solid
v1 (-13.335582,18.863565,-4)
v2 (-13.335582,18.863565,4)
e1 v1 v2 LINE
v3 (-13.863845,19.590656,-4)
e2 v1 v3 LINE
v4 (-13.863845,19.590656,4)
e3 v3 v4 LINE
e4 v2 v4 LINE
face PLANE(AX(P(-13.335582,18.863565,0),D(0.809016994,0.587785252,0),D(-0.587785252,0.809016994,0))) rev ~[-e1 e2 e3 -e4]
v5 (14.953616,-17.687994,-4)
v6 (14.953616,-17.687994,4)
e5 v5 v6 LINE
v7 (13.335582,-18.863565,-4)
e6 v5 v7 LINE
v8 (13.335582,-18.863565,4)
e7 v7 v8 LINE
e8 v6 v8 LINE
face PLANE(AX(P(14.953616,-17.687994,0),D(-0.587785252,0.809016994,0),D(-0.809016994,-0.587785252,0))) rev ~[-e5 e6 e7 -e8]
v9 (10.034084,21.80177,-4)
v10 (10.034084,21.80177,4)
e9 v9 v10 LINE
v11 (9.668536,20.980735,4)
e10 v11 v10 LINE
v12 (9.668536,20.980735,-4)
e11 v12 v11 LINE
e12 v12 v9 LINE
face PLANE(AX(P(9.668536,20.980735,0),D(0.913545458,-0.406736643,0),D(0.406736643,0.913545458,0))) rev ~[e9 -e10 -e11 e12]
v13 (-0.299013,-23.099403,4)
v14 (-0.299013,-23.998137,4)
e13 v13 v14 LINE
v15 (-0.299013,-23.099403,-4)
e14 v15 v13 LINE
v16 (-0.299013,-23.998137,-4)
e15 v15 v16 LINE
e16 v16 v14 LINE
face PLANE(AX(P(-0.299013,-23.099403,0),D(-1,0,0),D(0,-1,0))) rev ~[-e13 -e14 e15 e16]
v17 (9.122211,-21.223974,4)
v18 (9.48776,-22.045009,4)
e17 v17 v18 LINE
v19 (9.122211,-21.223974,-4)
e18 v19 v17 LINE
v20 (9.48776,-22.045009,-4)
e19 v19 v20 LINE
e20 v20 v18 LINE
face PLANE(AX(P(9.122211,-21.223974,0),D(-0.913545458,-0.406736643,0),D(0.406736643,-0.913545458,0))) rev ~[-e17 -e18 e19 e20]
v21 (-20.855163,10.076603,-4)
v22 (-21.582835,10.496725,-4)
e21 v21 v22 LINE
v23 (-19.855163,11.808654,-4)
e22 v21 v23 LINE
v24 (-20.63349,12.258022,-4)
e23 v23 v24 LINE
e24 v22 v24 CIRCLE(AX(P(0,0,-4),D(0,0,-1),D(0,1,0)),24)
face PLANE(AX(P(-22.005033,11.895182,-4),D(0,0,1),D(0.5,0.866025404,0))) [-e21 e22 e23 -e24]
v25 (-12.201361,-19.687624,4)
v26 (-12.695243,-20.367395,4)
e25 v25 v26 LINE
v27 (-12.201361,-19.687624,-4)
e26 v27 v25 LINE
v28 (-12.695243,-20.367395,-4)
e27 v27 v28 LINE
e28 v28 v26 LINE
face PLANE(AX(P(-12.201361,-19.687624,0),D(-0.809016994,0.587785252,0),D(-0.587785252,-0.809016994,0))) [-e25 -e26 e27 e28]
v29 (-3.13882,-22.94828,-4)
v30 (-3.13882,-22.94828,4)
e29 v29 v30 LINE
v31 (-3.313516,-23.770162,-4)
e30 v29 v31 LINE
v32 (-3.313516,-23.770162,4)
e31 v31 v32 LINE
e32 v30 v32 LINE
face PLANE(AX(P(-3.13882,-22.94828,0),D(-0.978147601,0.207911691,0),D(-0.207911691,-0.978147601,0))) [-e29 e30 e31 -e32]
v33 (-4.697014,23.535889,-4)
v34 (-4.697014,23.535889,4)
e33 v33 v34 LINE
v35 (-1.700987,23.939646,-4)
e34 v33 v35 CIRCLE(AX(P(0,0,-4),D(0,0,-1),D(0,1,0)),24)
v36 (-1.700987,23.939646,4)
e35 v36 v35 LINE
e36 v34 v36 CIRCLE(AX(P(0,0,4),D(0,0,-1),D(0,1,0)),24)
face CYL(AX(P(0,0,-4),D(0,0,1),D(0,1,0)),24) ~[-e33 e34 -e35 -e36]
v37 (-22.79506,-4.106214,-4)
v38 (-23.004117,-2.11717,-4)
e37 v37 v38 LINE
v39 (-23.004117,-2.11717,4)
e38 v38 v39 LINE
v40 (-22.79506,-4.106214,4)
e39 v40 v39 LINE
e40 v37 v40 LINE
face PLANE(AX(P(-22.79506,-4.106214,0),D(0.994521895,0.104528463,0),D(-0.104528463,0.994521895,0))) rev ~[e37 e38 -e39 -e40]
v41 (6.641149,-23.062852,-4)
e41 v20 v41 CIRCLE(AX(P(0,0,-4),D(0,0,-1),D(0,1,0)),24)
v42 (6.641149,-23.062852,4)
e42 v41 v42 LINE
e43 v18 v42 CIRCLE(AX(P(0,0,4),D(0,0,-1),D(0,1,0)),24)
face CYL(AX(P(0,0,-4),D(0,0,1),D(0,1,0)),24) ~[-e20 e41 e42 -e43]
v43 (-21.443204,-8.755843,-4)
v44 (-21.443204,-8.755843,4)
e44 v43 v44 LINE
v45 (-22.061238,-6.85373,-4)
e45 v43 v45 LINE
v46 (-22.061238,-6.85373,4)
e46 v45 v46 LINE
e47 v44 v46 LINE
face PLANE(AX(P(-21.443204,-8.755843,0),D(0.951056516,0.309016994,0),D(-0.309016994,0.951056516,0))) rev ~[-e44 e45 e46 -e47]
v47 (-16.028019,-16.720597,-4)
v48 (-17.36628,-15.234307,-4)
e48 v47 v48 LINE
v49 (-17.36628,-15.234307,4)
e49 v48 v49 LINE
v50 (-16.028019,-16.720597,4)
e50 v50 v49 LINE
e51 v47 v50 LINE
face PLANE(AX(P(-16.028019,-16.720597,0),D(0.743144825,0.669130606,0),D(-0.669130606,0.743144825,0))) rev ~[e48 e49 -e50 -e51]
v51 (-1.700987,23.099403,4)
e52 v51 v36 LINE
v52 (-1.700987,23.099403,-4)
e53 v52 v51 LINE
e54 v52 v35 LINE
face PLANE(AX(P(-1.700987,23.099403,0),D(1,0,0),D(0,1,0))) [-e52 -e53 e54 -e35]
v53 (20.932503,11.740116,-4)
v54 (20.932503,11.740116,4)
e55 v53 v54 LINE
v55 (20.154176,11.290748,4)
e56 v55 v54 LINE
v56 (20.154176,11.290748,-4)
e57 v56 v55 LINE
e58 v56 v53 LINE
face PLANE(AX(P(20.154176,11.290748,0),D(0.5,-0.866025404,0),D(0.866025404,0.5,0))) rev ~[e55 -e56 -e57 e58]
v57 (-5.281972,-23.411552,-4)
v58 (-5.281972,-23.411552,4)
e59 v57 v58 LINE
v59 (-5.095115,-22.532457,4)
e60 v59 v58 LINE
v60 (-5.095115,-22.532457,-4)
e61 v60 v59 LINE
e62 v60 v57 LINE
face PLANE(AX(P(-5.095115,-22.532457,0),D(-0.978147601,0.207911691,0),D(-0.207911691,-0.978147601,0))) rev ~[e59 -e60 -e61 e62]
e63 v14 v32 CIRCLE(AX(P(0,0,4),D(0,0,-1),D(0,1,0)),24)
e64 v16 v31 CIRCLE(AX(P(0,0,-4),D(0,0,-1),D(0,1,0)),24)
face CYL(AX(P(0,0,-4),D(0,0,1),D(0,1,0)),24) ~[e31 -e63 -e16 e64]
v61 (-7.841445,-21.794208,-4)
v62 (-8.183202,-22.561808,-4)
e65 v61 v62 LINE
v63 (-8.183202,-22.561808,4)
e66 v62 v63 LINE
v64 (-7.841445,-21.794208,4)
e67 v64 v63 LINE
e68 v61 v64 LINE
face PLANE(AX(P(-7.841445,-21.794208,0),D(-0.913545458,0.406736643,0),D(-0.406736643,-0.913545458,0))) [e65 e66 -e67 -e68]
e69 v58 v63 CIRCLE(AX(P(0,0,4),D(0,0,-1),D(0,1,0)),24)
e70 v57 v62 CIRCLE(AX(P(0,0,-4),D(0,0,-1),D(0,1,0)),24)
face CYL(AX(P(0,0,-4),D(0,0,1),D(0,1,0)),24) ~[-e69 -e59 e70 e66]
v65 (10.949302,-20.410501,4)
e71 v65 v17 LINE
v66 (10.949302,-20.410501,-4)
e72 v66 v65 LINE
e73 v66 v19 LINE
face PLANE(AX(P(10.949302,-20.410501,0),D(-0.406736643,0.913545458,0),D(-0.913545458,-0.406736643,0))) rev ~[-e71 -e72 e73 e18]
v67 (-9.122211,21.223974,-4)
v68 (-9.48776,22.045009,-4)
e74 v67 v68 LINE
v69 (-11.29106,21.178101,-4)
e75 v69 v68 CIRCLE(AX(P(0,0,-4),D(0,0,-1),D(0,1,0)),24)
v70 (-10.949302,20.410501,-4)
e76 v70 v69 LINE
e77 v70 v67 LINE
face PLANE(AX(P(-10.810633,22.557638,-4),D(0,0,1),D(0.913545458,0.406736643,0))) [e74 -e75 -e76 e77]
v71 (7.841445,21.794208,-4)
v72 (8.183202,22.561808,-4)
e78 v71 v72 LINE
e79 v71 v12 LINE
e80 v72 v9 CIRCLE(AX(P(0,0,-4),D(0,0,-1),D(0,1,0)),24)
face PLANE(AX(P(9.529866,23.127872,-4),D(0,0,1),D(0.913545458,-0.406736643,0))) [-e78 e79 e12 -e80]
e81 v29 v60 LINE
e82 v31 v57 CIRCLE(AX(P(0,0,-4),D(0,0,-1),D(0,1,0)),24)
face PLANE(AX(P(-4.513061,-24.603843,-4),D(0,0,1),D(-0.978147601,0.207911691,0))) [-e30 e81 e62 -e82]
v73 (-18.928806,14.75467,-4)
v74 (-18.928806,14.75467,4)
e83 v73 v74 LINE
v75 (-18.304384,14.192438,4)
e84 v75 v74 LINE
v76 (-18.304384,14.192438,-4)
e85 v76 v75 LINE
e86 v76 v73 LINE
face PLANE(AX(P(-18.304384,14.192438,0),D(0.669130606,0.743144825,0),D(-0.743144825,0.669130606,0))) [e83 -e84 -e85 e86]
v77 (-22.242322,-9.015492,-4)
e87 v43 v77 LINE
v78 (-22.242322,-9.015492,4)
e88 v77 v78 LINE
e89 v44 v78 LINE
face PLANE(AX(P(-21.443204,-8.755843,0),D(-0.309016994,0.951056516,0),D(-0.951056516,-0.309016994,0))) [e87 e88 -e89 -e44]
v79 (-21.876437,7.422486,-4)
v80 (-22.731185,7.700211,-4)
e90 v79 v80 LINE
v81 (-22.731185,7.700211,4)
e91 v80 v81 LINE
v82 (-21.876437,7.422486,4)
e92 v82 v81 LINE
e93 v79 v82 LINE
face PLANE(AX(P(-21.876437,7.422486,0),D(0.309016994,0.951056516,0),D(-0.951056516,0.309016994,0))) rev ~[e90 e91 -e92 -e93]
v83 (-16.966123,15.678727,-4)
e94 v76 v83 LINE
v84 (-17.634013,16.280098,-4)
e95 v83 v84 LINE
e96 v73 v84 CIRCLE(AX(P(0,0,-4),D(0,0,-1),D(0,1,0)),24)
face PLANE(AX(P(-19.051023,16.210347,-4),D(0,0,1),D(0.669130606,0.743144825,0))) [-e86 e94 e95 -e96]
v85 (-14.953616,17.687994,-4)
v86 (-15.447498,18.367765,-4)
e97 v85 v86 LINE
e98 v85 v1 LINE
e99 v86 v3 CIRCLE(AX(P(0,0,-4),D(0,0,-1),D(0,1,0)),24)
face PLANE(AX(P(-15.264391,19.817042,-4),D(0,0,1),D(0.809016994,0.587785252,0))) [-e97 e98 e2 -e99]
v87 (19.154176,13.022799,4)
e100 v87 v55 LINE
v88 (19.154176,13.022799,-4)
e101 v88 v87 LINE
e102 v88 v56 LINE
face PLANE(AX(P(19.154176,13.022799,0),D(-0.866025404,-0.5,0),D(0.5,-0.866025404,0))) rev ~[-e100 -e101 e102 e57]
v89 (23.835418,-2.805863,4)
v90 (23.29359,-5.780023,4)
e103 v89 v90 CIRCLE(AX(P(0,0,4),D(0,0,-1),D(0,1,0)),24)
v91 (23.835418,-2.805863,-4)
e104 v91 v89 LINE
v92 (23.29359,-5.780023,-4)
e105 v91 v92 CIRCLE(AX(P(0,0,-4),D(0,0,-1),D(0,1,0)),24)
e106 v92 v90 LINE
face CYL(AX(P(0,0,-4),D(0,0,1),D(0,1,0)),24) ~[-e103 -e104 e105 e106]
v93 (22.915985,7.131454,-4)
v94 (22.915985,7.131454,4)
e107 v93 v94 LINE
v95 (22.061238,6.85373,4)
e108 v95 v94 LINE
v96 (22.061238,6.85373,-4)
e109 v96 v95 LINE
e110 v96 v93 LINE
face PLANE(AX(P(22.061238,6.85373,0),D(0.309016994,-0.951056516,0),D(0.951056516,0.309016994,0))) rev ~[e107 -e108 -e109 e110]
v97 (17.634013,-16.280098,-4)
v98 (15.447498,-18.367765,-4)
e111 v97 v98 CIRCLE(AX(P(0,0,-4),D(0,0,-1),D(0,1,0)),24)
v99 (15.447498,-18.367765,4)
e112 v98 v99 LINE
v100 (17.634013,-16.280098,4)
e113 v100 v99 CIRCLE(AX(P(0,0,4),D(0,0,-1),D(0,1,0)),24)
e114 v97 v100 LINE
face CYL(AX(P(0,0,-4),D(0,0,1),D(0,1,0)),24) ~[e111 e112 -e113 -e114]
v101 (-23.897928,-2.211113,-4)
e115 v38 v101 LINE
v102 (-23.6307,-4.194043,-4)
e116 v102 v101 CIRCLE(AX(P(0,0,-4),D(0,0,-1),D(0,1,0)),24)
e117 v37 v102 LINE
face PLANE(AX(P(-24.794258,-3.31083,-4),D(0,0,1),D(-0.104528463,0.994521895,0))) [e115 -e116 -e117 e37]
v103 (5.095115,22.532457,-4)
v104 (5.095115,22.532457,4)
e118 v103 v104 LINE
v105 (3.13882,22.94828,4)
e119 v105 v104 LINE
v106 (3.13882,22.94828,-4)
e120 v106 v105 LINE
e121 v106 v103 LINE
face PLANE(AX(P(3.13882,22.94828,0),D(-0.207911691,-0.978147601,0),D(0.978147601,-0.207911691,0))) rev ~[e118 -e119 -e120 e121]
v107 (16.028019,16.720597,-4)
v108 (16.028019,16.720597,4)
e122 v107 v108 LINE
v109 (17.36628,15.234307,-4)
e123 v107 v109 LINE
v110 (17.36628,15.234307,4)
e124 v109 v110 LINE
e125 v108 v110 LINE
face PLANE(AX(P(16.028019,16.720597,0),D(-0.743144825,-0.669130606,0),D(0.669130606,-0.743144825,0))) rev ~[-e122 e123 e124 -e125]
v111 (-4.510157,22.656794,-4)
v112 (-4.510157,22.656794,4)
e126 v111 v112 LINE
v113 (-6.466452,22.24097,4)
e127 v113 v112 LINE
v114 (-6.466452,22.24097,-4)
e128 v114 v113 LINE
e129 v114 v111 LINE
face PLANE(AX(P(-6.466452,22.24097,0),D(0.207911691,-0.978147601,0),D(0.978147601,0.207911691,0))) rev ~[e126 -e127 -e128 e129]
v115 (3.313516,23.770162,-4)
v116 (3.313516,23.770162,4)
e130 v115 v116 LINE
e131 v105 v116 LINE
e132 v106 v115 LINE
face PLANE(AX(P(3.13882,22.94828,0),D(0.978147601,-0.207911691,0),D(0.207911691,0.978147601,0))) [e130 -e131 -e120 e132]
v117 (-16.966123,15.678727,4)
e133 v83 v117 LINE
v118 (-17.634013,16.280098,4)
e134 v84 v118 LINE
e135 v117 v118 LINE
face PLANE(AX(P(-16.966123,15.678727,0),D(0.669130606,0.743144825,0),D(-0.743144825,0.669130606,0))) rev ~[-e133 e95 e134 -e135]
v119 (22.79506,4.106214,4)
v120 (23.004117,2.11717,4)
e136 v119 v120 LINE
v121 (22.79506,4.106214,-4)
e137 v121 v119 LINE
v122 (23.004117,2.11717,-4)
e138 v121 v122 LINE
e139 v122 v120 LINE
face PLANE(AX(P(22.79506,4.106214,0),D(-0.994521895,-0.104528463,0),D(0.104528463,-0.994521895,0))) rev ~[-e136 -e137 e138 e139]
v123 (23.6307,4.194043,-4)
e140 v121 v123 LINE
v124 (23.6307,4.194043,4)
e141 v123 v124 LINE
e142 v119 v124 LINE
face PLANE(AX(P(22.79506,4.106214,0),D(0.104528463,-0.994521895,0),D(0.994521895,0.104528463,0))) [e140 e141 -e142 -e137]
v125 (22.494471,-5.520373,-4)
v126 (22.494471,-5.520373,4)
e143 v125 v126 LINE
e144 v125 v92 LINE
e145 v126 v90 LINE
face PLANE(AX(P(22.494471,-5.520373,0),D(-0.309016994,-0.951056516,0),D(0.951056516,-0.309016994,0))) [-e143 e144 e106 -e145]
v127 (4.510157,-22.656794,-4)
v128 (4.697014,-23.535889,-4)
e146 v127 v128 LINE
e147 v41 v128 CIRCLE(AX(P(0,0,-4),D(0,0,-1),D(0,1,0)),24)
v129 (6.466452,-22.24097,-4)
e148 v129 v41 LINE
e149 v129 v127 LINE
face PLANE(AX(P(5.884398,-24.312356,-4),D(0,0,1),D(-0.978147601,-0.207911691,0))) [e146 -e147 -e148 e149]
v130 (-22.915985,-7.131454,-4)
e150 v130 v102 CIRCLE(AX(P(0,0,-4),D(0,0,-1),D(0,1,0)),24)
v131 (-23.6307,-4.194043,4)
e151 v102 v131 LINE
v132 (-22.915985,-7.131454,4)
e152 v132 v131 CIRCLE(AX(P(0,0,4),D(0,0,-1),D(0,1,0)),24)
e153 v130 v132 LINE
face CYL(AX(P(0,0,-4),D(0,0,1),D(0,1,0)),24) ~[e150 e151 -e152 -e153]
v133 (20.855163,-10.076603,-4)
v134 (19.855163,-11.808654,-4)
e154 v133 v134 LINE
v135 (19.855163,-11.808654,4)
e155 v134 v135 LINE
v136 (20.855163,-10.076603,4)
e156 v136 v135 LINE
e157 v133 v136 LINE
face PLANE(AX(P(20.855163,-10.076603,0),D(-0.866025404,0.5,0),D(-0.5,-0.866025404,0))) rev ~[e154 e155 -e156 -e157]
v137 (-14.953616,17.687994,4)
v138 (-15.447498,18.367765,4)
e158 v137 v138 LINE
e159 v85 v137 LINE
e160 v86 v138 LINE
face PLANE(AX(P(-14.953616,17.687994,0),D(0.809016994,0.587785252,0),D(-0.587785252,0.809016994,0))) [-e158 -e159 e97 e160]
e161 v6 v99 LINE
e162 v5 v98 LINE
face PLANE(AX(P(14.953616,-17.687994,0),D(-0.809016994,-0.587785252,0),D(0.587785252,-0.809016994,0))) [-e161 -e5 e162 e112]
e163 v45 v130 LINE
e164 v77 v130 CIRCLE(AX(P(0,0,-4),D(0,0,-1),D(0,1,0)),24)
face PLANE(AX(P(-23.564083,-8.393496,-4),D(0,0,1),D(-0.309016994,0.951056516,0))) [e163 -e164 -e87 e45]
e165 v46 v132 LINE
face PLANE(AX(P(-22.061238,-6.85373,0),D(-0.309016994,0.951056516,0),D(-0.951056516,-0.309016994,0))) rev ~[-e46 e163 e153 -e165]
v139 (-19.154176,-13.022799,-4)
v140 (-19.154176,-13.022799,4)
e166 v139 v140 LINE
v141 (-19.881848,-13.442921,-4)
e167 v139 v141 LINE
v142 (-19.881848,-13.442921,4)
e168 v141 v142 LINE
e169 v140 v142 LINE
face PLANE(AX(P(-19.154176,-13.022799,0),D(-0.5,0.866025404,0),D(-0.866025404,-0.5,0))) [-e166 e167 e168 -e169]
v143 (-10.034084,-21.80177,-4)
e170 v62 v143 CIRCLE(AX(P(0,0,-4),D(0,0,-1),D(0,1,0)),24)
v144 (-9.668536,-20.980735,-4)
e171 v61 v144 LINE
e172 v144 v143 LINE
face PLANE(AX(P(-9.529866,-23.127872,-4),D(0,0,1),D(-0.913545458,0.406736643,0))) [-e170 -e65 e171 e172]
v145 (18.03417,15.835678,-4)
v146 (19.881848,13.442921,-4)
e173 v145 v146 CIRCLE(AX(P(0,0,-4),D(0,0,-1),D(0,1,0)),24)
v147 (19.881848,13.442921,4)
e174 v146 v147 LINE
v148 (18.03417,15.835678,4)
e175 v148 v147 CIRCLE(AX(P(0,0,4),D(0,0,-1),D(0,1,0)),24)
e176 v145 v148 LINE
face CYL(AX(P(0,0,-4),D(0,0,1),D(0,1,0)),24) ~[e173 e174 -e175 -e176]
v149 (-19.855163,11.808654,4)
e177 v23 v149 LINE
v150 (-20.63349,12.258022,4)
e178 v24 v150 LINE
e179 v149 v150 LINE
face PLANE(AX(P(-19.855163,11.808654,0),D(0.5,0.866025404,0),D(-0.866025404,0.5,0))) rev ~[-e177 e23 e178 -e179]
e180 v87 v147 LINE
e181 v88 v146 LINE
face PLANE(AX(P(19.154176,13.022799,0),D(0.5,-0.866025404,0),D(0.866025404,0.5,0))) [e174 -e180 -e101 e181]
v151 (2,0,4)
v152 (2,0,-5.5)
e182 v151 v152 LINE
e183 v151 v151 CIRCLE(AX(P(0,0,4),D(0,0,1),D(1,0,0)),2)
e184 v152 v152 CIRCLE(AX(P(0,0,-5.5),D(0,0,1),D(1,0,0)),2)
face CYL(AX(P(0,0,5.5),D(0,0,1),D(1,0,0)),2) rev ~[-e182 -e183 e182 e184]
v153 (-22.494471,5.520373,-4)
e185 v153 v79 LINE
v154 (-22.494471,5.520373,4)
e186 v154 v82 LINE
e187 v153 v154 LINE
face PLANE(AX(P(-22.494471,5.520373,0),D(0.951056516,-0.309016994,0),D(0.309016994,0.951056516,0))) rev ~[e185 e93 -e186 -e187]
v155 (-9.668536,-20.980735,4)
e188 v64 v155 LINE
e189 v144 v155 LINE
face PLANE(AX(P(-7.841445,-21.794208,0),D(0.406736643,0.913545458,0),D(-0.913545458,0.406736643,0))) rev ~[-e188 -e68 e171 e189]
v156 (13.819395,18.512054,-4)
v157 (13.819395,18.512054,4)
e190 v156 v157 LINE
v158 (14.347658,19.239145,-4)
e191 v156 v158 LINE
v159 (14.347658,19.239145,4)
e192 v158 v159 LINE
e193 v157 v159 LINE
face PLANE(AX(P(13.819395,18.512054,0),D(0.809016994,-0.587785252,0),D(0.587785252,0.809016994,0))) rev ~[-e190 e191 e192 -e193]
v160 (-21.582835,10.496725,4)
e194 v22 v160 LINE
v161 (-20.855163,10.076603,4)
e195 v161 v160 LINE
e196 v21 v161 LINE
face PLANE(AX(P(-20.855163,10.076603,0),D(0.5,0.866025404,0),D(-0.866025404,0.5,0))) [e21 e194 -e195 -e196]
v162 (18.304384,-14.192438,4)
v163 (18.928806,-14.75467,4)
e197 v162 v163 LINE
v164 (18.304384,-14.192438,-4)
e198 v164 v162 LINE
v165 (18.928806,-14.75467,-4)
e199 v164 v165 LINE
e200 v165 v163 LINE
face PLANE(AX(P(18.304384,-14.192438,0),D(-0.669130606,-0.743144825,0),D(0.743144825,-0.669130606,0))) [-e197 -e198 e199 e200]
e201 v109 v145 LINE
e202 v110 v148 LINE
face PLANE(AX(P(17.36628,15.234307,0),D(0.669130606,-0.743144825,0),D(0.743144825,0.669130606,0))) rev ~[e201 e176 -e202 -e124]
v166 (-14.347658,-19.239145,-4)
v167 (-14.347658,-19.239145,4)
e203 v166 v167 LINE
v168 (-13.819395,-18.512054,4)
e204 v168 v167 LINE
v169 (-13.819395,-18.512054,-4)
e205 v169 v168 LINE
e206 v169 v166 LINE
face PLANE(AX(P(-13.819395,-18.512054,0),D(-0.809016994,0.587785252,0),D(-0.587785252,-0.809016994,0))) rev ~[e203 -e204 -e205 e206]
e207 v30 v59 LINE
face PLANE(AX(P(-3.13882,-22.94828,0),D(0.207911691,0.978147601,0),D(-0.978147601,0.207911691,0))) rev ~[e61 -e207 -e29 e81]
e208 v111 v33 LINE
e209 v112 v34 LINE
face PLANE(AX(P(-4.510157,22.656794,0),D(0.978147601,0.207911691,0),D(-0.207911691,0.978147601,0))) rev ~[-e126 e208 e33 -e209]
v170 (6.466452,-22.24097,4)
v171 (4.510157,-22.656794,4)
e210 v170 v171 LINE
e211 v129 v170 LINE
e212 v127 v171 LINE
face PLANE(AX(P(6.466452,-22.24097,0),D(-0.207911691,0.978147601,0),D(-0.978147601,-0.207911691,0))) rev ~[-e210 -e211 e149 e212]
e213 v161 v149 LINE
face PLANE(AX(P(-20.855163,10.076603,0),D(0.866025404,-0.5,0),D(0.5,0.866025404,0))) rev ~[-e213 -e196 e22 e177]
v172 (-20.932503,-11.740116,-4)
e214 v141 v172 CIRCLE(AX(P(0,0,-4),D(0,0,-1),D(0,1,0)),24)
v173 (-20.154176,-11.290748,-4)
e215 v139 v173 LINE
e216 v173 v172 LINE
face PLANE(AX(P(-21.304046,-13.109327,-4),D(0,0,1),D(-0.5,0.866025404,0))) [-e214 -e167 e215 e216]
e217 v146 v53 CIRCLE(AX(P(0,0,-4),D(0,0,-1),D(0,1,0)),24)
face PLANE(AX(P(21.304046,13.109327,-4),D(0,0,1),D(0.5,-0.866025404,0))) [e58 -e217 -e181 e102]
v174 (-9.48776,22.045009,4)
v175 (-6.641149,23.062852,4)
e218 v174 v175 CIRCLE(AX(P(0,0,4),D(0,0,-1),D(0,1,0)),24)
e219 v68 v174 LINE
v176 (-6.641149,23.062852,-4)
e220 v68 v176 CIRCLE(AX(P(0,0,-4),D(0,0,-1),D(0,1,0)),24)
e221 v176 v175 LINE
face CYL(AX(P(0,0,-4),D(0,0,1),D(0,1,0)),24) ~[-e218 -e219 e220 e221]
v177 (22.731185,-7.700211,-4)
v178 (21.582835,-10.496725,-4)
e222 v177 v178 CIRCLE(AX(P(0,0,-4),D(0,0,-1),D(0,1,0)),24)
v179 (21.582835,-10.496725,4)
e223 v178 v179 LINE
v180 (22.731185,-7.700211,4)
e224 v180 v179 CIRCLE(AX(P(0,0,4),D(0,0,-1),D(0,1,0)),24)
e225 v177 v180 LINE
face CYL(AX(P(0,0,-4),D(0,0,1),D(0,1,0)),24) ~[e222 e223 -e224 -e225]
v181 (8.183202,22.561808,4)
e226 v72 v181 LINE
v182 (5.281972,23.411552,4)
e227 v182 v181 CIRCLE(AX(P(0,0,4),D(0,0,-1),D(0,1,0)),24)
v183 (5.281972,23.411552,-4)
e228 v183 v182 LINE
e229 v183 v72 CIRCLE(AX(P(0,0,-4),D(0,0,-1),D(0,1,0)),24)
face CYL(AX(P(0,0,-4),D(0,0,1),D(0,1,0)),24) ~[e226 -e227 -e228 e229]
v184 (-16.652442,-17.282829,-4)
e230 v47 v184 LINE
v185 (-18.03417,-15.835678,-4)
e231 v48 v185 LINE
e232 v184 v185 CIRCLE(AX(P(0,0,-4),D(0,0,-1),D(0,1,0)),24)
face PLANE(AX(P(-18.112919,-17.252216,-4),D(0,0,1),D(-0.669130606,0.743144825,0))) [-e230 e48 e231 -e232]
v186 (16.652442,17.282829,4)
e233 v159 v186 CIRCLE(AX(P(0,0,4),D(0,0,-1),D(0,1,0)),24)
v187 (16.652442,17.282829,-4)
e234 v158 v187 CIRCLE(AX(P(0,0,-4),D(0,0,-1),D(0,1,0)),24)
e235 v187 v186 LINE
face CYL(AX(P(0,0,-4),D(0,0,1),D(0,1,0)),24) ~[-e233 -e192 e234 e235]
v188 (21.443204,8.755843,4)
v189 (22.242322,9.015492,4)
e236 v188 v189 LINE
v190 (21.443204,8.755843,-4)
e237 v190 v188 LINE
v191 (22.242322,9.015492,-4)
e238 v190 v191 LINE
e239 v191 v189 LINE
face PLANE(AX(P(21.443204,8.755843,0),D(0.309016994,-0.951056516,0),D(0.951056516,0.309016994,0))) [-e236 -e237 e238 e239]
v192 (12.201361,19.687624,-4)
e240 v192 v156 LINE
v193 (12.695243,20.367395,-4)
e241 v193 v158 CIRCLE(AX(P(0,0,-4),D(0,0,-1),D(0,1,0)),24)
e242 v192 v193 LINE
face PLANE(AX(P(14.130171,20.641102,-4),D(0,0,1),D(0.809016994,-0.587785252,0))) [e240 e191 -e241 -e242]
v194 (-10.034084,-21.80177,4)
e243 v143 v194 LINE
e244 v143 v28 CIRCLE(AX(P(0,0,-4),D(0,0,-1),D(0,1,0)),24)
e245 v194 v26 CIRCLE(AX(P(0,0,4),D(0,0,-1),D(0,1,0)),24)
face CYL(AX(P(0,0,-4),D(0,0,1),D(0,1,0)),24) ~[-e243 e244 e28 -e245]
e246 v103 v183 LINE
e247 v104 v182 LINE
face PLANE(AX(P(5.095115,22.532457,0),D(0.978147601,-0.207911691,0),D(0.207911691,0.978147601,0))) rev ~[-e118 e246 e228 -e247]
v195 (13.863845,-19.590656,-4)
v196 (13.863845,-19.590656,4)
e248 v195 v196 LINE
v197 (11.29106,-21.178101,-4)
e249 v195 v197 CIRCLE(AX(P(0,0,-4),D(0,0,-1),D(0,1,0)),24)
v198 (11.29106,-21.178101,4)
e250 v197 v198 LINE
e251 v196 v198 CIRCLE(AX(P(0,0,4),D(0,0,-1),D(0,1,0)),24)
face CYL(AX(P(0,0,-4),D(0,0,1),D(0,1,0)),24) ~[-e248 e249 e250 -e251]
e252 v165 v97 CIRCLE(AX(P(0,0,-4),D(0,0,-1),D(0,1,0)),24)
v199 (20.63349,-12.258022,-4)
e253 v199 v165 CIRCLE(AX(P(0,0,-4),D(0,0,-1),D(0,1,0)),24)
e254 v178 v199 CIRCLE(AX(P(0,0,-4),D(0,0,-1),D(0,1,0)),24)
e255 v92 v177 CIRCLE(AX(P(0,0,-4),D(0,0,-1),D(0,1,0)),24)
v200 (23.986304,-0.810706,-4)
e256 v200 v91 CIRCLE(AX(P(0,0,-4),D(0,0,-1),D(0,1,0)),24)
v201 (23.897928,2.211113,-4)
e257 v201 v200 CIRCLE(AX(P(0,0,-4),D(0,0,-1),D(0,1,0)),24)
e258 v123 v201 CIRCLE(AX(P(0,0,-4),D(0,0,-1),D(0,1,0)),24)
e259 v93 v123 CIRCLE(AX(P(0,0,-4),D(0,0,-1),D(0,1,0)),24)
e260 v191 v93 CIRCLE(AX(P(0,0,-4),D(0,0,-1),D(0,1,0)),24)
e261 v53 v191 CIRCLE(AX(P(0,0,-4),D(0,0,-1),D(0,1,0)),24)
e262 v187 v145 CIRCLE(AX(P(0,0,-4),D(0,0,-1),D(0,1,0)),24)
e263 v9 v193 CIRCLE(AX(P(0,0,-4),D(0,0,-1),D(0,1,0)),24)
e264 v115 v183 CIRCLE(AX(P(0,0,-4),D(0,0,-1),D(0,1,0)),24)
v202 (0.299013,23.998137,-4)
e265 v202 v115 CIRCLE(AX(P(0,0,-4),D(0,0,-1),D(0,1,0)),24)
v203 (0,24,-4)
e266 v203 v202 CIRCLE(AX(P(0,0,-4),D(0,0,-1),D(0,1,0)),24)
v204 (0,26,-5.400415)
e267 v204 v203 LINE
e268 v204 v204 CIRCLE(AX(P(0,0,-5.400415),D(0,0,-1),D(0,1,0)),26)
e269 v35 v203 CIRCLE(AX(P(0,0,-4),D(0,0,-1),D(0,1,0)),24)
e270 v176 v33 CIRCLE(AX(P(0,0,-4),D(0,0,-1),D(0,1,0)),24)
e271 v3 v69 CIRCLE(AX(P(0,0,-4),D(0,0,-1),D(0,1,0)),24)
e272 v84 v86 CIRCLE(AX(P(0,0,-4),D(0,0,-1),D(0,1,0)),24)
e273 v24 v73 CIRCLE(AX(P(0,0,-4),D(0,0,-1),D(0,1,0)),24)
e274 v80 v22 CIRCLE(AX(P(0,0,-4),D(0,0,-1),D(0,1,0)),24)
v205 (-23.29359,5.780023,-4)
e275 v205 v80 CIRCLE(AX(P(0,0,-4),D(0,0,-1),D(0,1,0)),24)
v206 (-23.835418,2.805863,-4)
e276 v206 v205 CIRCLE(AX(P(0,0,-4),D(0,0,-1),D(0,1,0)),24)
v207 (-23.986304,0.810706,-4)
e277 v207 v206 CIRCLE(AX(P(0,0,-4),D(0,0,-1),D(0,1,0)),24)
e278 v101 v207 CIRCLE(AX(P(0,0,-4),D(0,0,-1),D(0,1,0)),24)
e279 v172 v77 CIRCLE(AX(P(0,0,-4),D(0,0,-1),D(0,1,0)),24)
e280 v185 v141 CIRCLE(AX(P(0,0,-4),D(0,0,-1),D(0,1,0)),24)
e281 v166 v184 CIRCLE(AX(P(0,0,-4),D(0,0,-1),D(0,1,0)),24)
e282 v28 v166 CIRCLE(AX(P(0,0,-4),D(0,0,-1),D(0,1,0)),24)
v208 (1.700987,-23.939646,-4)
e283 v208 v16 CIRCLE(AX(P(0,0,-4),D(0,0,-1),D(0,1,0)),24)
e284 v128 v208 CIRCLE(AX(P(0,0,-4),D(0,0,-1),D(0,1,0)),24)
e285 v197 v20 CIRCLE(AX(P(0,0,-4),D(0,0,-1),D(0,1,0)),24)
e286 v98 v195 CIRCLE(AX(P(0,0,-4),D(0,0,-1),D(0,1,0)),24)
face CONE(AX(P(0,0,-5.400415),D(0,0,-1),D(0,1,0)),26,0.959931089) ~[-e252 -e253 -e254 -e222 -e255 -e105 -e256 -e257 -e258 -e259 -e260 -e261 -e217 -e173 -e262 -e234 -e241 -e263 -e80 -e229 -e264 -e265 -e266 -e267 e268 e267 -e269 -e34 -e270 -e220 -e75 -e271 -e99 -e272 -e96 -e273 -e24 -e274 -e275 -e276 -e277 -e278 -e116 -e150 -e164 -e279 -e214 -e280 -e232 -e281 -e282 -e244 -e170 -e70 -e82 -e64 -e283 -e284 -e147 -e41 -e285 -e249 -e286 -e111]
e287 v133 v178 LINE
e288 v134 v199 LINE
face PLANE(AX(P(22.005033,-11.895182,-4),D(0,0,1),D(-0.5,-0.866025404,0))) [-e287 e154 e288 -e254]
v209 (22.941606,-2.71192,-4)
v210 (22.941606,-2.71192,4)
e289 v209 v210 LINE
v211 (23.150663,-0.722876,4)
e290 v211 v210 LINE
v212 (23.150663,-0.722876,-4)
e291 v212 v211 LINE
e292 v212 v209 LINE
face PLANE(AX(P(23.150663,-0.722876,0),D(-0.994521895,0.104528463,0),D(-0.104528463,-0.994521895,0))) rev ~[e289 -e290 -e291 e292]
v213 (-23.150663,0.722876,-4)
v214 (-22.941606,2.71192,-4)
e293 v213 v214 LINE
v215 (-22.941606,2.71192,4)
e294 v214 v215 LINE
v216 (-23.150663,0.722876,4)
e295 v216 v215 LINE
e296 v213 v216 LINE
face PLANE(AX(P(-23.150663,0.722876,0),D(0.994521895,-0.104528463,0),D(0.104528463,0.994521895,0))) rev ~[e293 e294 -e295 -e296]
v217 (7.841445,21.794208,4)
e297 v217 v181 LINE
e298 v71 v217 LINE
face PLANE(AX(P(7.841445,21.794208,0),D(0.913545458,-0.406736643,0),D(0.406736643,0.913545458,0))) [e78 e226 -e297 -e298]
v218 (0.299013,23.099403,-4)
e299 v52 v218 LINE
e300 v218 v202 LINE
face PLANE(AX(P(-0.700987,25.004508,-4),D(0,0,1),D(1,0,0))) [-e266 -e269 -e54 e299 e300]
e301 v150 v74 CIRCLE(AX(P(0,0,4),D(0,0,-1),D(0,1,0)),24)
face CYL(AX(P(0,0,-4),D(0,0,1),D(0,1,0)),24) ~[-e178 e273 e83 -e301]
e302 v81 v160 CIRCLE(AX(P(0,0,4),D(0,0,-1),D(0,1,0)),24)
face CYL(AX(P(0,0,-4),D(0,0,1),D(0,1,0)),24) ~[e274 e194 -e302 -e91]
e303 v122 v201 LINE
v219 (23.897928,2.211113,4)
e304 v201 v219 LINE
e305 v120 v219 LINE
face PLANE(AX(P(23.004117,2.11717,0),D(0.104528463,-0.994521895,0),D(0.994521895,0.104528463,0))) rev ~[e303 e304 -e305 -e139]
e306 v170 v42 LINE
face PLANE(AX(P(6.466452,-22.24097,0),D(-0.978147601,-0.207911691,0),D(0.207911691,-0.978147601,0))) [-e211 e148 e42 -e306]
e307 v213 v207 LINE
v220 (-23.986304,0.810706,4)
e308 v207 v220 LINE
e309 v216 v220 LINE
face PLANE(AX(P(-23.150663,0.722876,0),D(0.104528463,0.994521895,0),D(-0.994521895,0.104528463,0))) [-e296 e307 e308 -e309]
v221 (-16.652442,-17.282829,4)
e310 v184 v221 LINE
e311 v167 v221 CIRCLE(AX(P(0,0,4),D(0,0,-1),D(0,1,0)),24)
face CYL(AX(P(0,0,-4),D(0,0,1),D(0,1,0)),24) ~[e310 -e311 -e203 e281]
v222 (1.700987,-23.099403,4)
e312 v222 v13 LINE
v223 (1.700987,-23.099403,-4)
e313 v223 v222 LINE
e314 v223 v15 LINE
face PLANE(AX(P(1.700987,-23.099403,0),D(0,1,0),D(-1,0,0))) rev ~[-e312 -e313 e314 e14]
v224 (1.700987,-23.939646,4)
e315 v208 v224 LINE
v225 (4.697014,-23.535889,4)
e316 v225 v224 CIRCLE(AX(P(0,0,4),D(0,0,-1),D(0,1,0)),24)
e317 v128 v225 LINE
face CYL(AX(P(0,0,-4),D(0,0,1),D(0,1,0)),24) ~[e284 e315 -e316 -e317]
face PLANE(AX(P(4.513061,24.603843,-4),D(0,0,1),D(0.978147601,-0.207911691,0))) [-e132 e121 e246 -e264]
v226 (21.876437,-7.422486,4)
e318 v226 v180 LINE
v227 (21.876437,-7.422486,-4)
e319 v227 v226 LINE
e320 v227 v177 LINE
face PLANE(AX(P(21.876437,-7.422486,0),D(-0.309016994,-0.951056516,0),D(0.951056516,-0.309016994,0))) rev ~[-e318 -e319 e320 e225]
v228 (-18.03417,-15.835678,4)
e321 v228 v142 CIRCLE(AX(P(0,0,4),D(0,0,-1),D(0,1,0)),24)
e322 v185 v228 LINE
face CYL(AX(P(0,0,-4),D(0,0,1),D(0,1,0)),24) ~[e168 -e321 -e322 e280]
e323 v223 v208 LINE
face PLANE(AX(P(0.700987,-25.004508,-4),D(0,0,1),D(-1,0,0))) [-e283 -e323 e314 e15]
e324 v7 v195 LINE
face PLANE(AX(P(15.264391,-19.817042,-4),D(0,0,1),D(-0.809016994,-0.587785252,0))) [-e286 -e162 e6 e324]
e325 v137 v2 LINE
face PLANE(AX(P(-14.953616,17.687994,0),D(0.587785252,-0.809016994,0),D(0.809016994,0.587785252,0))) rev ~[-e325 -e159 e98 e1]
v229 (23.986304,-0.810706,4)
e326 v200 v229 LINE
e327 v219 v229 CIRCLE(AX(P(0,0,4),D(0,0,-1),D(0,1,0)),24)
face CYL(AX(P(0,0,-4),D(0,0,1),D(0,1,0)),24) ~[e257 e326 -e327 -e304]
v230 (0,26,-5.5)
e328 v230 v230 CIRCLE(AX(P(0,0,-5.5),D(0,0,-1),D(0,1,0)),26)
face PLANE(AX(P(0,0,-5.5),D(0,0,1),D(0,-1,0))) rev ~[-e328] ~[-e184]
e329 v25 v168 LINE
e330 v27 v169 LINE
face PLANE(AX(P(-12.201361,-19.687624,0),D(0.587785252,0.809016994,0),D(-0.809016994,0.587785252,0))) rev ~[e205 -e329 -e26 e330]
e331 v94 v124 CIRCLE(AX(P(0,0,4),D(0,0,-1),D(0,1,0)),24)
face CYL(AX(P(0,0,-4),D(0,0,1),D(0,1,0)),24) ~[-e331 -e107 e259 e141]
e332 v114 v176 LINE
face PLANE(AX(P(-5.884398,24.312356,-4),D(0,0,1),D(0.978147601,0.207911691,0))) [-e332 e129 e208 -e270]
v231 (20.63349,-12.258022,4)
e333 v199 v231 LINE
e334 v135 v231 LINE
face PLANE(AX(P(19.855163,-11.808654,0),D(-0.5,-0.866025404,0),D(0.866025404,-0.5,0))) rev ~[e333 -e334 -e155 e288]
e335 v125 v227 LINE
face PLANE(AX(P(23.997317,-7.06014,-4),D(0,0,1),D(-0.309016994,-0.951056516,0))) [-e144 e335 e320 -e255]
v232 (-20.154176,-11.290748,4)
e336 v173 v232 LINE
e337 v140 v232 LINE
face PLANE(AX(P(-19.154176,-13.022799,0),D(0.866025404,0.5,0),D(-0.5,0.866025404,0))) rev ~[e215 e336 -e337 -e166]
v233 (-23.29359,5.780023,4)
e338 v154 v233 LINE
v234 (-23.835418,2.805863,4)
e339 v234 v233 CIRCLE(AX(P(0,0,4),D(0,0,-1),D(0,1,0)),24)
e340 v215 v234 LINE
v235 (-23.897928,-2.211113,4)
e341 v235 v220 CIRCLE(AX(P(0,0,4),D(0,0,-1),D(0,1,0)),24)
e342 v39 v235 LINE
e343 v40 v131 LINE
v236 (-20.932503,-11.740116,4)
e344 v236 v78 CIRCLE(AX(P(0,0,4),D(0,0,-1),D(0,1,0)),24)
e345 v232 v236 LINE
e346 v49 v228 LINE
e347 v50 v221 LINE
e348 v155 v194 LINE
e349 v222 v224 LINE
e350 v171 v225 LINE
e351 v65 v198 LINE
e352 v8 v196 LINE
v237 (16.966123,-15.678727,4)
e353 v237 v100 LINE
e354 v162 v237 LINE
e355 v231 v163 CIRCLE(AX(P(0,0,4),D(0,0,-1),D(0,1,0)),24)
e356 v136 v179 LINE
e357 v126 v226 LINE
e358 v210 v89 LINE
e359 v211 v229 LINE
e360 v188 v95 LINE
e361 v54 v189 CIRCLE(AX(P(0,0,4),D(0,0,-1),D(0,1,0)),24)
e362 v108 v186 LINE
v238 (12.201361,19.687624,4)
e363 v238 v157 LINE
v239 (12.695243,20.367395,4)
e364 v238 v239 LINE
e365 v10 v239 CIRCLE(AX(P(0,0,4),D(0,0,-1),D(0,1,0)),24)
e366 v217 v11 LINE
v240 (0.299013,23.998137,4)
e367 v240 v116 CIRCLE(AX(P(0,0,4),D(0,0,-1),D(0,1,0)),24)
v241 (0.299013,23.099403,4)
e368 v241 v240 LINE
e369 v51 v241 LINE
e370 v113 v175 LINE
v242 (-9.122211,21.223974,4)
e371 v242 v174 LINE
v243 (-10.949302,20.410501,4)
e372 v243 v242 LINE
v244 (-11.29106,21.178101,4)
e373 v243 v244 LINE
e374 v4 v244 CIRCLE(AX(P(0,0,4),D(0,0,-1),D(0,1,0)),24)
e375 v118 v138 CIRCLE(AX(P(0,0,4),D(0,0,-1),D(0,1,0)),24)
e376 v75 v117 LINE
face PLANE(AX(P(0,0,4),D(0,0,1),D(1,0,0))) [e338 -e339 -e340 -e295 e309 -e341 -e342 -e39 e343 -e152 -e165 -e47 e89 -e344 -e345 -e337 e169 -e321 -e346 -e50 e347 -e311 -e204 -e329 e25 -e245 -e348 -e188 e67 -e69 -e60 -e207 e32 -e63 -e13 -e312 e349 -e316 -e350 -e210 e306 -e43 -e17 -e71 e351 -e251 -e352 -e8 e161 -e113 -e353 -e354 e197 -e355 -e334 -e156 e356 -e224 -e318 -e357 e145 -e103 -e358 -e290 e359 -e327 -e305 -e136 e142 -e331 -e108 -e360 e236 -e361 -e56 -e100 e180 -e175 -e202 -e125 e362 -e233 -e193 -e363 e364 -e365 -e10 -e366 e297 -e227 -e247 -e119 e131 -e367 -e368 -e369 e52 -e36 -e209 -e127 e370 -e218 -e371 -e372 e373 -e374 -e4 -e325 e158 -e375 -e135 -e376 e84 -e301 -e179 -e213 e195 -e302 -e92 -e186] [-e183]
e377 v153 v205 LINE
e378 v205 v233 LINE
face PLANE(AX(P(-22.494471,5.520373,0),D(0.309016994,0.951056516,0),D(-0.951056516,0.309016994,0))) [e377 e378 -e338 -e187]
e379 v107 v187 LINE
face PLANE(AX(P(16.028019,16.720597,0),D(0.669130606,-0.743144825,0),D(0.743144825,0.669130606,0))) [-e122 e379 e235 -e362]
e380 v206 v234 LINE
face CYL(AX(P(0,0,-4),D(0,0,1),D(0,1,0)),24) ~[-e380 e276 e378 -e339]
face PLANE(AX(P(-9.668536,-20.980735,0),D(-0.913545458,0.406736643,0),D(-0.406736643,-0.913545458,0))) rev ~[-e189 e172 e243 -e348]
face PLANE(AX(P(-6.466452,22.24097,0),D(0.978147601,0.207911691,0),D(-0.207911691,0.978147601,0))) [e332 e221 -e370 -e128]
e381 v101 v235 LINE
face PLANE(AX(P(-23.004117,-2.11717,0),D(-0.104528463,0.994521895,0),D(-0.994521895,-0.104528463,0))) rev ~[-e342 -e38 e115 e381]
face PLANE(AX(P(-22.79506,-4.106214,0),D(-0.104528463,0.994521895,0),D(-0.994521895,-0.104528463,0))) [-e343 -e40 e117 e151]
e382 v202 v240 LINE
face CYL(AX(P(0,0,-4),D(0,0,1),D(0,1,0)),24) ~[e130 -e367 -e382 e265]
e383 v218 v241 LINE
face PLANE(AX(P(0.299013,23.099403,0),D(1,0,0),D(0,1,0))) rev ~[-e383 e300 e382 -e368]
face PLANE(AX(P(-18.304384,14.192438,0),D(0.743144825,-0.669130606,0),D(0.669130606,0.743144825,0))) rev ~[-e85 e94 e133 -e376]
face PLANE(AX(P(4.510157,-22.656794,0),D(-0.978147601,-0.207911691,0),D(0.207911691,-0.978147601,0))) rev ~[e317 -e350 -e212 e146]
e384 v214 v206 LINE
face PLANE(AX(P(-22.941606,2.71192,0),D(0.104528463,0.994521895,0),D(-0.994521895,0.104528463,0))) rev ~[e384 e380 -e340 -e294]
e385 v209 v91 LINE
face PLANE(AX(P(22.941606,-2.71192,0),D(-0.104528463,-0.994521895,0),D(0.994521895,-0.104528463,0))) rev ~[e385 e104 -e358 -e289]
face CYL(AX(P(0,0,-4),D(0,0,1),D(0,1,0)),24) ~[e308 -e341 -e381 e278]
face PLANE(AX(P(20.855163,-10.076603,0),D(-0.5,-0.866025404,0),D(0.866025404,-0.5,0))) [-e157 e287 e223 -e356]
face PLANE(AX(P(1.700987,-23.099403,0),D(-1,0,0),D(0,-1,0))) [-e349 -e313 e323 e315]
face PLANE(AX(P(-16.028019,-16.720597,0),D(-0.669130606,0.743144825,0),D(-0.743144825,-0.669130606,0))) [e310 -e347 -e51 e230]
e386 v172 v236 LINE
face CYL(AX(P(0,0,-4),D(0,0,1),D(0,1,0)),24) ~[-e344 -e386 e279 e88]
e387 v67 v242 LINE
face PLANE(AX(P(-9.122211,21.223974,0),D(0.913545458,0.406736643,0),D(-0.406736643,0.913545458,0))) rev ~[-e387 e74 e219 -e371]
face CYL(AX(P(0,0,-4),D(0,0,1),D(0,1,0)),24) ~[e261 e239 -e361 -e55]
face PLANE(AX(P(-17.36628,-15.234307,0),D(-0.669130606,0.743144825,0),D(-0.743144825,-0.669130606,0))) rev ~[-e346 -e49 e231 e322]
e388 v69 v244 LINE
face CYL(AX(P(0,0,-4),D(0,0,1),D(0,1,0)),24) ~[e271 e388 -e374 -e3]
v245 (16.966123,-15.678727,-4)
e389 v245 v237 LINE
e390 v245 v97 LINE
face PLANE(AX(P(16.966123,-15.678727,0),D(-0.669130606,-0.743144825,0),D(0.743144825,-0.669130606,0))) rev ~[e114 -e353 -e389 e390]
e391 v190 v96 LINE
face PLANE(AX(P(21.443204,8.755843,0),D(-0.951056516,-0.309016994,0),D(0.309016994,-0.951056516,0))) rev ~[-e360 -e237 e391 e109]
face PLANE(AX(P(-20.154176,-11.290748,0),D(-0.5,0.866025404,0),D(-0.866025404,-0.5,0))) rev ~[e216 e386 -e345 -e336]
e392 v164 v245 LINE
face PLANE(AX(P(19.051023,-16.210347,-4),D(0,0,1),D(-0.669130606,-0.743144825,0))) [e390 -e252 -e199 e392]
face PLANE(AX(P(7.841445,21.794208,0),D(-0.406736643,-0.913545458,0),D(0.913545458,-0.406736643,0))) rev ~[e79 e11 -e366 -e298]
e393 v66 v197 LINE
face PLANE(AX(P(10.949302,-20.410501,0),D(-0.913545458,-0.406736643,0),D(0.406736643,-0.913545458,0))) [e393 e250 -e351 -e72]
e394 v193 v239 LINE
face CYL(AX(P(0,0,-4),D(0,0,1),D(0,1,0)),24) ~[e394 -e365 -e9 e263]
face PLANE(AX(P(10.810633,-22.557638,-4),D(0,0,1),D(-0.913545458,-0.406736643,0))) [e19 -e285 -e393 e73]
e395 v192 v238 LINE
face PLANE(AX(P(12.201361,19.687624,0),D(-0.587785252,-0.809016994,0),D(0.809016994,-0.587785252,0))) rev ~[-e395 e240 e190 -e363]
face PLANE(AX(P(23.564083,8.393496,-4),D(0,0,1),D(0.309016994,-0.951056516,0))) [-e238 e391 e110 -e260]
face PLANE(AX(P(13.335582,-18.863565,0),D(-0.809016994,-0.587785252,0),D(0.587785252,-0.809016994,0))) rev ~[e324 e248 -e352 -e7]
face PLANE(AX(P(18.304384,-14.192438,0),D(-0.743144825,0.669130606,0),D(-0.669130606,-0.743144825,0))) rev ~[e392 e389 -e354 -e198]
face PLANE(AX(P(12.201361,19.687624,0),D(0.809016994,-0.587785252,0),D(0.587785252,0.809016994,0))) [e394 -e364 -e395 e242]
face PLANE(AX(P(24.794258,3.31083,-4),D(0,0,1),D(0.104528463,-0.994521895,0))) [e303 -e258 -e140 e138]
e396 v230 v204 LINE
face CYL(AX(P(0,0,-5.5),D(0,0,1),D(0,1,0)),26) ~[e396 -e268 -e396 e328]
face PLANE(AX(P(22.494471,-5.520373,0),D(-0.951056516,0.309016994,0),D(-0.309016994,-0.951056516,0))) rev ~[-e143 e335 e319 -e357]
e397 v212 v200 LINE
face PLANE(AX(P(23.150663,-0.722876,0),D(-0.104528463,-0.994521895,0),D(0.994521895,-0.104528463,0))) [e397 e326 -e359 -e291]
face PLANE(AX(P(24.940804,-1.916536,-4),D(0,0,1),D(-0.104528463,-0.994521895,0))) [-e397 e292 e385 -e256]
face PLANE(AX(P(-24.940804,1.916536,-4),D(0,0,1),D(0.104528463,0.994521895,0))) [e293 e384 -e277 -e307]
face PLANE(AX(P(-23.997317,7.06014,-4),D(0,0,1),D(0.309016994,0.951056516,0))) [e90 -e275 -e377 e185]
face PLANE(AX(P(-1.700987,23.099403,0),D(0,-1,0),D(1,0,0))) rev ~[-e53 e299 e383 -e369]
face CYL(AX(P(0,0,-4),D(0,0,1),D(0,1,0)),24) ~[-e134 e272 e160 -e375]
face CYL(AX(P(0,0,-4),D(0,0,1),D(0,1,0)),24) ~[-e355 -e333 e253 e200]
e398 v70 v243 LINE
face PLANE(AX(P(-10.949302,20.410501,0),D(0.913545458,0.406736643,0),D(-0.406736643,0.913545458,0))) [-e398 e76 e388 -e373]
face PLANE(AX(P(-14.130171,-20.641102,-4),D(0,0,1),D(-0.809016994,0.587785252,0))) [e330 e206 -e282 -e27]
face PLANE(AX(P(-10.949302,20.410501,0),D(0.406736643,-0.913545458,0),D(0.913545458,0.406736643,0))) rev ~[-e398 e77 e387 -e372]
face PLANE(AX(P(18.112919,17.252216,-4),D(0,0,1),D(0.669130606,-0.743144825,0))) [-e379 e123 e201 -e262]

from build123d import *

# Parameters (mm, degrees)
SKETCH2_R          = 2
CUT_EXTRUDE1_DEPTH = 34
SKETCH3_W          = 2
SKETCH3_H          = 3.810210747
CUT_EXTRUDE2_DEPTH = 4
CIRPATTERN1_COUNT  = 30
SKETCH4_R          = 35.761747599
CUT_EXTRUDE3_DEPTH = 1.5


with BuildPart() as part:
    # Sketch1 → Revolve1 (revolve)
    with BuildSketch(Plane(origin=(0, 0, 0), x_dir=(0, 0, -1), z_dir=(1, 0, 0))):
        Polygon((-5.5, 0), (-5.5, 26), (-5.400415076, 26), (-4, 24), (0, 24), (0, 0), align=None)
    revolve1 = revolve(axis=Axis((0, 0, 5.5), (0, 0, -1)))

    # Mirror1: Revolve1 across plane
    add(revolve1.mirror(Plane.XY))

    # Sketch2 → Cut-Extrude1 (cut)
    with BuildSketch(Plane.XY.offset(5.5)):
        Circle(SKETCH2_R)
    extrude(amount=-CUT_EXTRUDE1_DEPTH, mode=Mode.SUBTRACT)

    # Sketch3 → Cut-Extrude2 (cut, symmetric)
    with BuildSketch(Plane.XY):
        with Locations((-0.70098694, 25.004508025)):
            Rectangle(SKETCH3_W, SKETCH3_H)
    cut_extrude2 = extrude(amount=CUT_EXTRUDE2_DEPTH, both=True, mode=Mode.SUBTRACT)

    # CirPattern1: Cut-Extrude2 ×30 about axis
    cirpattern1_axis = Axis((0, 0, 0), (0, 0, 1))
    for i in range(1, CIRPATTERN1_COUNT):
        add(cut_extrude2.rotate(cirpattern1_axis, i * 360 / CIRPATTERN1_COUNT), mode=Mode.SUBTRACT)

    # Sketch4 → Cut-Extrude3 (cut)
    with BuildSketch(Plane.XY.offset(5.5)):
        Circle(SKETCH4_R)
    extrude(amount=-CUT_EXTRUDE3_DEPTH, mode=Mode.SUBTRACT)


solid = part.part
